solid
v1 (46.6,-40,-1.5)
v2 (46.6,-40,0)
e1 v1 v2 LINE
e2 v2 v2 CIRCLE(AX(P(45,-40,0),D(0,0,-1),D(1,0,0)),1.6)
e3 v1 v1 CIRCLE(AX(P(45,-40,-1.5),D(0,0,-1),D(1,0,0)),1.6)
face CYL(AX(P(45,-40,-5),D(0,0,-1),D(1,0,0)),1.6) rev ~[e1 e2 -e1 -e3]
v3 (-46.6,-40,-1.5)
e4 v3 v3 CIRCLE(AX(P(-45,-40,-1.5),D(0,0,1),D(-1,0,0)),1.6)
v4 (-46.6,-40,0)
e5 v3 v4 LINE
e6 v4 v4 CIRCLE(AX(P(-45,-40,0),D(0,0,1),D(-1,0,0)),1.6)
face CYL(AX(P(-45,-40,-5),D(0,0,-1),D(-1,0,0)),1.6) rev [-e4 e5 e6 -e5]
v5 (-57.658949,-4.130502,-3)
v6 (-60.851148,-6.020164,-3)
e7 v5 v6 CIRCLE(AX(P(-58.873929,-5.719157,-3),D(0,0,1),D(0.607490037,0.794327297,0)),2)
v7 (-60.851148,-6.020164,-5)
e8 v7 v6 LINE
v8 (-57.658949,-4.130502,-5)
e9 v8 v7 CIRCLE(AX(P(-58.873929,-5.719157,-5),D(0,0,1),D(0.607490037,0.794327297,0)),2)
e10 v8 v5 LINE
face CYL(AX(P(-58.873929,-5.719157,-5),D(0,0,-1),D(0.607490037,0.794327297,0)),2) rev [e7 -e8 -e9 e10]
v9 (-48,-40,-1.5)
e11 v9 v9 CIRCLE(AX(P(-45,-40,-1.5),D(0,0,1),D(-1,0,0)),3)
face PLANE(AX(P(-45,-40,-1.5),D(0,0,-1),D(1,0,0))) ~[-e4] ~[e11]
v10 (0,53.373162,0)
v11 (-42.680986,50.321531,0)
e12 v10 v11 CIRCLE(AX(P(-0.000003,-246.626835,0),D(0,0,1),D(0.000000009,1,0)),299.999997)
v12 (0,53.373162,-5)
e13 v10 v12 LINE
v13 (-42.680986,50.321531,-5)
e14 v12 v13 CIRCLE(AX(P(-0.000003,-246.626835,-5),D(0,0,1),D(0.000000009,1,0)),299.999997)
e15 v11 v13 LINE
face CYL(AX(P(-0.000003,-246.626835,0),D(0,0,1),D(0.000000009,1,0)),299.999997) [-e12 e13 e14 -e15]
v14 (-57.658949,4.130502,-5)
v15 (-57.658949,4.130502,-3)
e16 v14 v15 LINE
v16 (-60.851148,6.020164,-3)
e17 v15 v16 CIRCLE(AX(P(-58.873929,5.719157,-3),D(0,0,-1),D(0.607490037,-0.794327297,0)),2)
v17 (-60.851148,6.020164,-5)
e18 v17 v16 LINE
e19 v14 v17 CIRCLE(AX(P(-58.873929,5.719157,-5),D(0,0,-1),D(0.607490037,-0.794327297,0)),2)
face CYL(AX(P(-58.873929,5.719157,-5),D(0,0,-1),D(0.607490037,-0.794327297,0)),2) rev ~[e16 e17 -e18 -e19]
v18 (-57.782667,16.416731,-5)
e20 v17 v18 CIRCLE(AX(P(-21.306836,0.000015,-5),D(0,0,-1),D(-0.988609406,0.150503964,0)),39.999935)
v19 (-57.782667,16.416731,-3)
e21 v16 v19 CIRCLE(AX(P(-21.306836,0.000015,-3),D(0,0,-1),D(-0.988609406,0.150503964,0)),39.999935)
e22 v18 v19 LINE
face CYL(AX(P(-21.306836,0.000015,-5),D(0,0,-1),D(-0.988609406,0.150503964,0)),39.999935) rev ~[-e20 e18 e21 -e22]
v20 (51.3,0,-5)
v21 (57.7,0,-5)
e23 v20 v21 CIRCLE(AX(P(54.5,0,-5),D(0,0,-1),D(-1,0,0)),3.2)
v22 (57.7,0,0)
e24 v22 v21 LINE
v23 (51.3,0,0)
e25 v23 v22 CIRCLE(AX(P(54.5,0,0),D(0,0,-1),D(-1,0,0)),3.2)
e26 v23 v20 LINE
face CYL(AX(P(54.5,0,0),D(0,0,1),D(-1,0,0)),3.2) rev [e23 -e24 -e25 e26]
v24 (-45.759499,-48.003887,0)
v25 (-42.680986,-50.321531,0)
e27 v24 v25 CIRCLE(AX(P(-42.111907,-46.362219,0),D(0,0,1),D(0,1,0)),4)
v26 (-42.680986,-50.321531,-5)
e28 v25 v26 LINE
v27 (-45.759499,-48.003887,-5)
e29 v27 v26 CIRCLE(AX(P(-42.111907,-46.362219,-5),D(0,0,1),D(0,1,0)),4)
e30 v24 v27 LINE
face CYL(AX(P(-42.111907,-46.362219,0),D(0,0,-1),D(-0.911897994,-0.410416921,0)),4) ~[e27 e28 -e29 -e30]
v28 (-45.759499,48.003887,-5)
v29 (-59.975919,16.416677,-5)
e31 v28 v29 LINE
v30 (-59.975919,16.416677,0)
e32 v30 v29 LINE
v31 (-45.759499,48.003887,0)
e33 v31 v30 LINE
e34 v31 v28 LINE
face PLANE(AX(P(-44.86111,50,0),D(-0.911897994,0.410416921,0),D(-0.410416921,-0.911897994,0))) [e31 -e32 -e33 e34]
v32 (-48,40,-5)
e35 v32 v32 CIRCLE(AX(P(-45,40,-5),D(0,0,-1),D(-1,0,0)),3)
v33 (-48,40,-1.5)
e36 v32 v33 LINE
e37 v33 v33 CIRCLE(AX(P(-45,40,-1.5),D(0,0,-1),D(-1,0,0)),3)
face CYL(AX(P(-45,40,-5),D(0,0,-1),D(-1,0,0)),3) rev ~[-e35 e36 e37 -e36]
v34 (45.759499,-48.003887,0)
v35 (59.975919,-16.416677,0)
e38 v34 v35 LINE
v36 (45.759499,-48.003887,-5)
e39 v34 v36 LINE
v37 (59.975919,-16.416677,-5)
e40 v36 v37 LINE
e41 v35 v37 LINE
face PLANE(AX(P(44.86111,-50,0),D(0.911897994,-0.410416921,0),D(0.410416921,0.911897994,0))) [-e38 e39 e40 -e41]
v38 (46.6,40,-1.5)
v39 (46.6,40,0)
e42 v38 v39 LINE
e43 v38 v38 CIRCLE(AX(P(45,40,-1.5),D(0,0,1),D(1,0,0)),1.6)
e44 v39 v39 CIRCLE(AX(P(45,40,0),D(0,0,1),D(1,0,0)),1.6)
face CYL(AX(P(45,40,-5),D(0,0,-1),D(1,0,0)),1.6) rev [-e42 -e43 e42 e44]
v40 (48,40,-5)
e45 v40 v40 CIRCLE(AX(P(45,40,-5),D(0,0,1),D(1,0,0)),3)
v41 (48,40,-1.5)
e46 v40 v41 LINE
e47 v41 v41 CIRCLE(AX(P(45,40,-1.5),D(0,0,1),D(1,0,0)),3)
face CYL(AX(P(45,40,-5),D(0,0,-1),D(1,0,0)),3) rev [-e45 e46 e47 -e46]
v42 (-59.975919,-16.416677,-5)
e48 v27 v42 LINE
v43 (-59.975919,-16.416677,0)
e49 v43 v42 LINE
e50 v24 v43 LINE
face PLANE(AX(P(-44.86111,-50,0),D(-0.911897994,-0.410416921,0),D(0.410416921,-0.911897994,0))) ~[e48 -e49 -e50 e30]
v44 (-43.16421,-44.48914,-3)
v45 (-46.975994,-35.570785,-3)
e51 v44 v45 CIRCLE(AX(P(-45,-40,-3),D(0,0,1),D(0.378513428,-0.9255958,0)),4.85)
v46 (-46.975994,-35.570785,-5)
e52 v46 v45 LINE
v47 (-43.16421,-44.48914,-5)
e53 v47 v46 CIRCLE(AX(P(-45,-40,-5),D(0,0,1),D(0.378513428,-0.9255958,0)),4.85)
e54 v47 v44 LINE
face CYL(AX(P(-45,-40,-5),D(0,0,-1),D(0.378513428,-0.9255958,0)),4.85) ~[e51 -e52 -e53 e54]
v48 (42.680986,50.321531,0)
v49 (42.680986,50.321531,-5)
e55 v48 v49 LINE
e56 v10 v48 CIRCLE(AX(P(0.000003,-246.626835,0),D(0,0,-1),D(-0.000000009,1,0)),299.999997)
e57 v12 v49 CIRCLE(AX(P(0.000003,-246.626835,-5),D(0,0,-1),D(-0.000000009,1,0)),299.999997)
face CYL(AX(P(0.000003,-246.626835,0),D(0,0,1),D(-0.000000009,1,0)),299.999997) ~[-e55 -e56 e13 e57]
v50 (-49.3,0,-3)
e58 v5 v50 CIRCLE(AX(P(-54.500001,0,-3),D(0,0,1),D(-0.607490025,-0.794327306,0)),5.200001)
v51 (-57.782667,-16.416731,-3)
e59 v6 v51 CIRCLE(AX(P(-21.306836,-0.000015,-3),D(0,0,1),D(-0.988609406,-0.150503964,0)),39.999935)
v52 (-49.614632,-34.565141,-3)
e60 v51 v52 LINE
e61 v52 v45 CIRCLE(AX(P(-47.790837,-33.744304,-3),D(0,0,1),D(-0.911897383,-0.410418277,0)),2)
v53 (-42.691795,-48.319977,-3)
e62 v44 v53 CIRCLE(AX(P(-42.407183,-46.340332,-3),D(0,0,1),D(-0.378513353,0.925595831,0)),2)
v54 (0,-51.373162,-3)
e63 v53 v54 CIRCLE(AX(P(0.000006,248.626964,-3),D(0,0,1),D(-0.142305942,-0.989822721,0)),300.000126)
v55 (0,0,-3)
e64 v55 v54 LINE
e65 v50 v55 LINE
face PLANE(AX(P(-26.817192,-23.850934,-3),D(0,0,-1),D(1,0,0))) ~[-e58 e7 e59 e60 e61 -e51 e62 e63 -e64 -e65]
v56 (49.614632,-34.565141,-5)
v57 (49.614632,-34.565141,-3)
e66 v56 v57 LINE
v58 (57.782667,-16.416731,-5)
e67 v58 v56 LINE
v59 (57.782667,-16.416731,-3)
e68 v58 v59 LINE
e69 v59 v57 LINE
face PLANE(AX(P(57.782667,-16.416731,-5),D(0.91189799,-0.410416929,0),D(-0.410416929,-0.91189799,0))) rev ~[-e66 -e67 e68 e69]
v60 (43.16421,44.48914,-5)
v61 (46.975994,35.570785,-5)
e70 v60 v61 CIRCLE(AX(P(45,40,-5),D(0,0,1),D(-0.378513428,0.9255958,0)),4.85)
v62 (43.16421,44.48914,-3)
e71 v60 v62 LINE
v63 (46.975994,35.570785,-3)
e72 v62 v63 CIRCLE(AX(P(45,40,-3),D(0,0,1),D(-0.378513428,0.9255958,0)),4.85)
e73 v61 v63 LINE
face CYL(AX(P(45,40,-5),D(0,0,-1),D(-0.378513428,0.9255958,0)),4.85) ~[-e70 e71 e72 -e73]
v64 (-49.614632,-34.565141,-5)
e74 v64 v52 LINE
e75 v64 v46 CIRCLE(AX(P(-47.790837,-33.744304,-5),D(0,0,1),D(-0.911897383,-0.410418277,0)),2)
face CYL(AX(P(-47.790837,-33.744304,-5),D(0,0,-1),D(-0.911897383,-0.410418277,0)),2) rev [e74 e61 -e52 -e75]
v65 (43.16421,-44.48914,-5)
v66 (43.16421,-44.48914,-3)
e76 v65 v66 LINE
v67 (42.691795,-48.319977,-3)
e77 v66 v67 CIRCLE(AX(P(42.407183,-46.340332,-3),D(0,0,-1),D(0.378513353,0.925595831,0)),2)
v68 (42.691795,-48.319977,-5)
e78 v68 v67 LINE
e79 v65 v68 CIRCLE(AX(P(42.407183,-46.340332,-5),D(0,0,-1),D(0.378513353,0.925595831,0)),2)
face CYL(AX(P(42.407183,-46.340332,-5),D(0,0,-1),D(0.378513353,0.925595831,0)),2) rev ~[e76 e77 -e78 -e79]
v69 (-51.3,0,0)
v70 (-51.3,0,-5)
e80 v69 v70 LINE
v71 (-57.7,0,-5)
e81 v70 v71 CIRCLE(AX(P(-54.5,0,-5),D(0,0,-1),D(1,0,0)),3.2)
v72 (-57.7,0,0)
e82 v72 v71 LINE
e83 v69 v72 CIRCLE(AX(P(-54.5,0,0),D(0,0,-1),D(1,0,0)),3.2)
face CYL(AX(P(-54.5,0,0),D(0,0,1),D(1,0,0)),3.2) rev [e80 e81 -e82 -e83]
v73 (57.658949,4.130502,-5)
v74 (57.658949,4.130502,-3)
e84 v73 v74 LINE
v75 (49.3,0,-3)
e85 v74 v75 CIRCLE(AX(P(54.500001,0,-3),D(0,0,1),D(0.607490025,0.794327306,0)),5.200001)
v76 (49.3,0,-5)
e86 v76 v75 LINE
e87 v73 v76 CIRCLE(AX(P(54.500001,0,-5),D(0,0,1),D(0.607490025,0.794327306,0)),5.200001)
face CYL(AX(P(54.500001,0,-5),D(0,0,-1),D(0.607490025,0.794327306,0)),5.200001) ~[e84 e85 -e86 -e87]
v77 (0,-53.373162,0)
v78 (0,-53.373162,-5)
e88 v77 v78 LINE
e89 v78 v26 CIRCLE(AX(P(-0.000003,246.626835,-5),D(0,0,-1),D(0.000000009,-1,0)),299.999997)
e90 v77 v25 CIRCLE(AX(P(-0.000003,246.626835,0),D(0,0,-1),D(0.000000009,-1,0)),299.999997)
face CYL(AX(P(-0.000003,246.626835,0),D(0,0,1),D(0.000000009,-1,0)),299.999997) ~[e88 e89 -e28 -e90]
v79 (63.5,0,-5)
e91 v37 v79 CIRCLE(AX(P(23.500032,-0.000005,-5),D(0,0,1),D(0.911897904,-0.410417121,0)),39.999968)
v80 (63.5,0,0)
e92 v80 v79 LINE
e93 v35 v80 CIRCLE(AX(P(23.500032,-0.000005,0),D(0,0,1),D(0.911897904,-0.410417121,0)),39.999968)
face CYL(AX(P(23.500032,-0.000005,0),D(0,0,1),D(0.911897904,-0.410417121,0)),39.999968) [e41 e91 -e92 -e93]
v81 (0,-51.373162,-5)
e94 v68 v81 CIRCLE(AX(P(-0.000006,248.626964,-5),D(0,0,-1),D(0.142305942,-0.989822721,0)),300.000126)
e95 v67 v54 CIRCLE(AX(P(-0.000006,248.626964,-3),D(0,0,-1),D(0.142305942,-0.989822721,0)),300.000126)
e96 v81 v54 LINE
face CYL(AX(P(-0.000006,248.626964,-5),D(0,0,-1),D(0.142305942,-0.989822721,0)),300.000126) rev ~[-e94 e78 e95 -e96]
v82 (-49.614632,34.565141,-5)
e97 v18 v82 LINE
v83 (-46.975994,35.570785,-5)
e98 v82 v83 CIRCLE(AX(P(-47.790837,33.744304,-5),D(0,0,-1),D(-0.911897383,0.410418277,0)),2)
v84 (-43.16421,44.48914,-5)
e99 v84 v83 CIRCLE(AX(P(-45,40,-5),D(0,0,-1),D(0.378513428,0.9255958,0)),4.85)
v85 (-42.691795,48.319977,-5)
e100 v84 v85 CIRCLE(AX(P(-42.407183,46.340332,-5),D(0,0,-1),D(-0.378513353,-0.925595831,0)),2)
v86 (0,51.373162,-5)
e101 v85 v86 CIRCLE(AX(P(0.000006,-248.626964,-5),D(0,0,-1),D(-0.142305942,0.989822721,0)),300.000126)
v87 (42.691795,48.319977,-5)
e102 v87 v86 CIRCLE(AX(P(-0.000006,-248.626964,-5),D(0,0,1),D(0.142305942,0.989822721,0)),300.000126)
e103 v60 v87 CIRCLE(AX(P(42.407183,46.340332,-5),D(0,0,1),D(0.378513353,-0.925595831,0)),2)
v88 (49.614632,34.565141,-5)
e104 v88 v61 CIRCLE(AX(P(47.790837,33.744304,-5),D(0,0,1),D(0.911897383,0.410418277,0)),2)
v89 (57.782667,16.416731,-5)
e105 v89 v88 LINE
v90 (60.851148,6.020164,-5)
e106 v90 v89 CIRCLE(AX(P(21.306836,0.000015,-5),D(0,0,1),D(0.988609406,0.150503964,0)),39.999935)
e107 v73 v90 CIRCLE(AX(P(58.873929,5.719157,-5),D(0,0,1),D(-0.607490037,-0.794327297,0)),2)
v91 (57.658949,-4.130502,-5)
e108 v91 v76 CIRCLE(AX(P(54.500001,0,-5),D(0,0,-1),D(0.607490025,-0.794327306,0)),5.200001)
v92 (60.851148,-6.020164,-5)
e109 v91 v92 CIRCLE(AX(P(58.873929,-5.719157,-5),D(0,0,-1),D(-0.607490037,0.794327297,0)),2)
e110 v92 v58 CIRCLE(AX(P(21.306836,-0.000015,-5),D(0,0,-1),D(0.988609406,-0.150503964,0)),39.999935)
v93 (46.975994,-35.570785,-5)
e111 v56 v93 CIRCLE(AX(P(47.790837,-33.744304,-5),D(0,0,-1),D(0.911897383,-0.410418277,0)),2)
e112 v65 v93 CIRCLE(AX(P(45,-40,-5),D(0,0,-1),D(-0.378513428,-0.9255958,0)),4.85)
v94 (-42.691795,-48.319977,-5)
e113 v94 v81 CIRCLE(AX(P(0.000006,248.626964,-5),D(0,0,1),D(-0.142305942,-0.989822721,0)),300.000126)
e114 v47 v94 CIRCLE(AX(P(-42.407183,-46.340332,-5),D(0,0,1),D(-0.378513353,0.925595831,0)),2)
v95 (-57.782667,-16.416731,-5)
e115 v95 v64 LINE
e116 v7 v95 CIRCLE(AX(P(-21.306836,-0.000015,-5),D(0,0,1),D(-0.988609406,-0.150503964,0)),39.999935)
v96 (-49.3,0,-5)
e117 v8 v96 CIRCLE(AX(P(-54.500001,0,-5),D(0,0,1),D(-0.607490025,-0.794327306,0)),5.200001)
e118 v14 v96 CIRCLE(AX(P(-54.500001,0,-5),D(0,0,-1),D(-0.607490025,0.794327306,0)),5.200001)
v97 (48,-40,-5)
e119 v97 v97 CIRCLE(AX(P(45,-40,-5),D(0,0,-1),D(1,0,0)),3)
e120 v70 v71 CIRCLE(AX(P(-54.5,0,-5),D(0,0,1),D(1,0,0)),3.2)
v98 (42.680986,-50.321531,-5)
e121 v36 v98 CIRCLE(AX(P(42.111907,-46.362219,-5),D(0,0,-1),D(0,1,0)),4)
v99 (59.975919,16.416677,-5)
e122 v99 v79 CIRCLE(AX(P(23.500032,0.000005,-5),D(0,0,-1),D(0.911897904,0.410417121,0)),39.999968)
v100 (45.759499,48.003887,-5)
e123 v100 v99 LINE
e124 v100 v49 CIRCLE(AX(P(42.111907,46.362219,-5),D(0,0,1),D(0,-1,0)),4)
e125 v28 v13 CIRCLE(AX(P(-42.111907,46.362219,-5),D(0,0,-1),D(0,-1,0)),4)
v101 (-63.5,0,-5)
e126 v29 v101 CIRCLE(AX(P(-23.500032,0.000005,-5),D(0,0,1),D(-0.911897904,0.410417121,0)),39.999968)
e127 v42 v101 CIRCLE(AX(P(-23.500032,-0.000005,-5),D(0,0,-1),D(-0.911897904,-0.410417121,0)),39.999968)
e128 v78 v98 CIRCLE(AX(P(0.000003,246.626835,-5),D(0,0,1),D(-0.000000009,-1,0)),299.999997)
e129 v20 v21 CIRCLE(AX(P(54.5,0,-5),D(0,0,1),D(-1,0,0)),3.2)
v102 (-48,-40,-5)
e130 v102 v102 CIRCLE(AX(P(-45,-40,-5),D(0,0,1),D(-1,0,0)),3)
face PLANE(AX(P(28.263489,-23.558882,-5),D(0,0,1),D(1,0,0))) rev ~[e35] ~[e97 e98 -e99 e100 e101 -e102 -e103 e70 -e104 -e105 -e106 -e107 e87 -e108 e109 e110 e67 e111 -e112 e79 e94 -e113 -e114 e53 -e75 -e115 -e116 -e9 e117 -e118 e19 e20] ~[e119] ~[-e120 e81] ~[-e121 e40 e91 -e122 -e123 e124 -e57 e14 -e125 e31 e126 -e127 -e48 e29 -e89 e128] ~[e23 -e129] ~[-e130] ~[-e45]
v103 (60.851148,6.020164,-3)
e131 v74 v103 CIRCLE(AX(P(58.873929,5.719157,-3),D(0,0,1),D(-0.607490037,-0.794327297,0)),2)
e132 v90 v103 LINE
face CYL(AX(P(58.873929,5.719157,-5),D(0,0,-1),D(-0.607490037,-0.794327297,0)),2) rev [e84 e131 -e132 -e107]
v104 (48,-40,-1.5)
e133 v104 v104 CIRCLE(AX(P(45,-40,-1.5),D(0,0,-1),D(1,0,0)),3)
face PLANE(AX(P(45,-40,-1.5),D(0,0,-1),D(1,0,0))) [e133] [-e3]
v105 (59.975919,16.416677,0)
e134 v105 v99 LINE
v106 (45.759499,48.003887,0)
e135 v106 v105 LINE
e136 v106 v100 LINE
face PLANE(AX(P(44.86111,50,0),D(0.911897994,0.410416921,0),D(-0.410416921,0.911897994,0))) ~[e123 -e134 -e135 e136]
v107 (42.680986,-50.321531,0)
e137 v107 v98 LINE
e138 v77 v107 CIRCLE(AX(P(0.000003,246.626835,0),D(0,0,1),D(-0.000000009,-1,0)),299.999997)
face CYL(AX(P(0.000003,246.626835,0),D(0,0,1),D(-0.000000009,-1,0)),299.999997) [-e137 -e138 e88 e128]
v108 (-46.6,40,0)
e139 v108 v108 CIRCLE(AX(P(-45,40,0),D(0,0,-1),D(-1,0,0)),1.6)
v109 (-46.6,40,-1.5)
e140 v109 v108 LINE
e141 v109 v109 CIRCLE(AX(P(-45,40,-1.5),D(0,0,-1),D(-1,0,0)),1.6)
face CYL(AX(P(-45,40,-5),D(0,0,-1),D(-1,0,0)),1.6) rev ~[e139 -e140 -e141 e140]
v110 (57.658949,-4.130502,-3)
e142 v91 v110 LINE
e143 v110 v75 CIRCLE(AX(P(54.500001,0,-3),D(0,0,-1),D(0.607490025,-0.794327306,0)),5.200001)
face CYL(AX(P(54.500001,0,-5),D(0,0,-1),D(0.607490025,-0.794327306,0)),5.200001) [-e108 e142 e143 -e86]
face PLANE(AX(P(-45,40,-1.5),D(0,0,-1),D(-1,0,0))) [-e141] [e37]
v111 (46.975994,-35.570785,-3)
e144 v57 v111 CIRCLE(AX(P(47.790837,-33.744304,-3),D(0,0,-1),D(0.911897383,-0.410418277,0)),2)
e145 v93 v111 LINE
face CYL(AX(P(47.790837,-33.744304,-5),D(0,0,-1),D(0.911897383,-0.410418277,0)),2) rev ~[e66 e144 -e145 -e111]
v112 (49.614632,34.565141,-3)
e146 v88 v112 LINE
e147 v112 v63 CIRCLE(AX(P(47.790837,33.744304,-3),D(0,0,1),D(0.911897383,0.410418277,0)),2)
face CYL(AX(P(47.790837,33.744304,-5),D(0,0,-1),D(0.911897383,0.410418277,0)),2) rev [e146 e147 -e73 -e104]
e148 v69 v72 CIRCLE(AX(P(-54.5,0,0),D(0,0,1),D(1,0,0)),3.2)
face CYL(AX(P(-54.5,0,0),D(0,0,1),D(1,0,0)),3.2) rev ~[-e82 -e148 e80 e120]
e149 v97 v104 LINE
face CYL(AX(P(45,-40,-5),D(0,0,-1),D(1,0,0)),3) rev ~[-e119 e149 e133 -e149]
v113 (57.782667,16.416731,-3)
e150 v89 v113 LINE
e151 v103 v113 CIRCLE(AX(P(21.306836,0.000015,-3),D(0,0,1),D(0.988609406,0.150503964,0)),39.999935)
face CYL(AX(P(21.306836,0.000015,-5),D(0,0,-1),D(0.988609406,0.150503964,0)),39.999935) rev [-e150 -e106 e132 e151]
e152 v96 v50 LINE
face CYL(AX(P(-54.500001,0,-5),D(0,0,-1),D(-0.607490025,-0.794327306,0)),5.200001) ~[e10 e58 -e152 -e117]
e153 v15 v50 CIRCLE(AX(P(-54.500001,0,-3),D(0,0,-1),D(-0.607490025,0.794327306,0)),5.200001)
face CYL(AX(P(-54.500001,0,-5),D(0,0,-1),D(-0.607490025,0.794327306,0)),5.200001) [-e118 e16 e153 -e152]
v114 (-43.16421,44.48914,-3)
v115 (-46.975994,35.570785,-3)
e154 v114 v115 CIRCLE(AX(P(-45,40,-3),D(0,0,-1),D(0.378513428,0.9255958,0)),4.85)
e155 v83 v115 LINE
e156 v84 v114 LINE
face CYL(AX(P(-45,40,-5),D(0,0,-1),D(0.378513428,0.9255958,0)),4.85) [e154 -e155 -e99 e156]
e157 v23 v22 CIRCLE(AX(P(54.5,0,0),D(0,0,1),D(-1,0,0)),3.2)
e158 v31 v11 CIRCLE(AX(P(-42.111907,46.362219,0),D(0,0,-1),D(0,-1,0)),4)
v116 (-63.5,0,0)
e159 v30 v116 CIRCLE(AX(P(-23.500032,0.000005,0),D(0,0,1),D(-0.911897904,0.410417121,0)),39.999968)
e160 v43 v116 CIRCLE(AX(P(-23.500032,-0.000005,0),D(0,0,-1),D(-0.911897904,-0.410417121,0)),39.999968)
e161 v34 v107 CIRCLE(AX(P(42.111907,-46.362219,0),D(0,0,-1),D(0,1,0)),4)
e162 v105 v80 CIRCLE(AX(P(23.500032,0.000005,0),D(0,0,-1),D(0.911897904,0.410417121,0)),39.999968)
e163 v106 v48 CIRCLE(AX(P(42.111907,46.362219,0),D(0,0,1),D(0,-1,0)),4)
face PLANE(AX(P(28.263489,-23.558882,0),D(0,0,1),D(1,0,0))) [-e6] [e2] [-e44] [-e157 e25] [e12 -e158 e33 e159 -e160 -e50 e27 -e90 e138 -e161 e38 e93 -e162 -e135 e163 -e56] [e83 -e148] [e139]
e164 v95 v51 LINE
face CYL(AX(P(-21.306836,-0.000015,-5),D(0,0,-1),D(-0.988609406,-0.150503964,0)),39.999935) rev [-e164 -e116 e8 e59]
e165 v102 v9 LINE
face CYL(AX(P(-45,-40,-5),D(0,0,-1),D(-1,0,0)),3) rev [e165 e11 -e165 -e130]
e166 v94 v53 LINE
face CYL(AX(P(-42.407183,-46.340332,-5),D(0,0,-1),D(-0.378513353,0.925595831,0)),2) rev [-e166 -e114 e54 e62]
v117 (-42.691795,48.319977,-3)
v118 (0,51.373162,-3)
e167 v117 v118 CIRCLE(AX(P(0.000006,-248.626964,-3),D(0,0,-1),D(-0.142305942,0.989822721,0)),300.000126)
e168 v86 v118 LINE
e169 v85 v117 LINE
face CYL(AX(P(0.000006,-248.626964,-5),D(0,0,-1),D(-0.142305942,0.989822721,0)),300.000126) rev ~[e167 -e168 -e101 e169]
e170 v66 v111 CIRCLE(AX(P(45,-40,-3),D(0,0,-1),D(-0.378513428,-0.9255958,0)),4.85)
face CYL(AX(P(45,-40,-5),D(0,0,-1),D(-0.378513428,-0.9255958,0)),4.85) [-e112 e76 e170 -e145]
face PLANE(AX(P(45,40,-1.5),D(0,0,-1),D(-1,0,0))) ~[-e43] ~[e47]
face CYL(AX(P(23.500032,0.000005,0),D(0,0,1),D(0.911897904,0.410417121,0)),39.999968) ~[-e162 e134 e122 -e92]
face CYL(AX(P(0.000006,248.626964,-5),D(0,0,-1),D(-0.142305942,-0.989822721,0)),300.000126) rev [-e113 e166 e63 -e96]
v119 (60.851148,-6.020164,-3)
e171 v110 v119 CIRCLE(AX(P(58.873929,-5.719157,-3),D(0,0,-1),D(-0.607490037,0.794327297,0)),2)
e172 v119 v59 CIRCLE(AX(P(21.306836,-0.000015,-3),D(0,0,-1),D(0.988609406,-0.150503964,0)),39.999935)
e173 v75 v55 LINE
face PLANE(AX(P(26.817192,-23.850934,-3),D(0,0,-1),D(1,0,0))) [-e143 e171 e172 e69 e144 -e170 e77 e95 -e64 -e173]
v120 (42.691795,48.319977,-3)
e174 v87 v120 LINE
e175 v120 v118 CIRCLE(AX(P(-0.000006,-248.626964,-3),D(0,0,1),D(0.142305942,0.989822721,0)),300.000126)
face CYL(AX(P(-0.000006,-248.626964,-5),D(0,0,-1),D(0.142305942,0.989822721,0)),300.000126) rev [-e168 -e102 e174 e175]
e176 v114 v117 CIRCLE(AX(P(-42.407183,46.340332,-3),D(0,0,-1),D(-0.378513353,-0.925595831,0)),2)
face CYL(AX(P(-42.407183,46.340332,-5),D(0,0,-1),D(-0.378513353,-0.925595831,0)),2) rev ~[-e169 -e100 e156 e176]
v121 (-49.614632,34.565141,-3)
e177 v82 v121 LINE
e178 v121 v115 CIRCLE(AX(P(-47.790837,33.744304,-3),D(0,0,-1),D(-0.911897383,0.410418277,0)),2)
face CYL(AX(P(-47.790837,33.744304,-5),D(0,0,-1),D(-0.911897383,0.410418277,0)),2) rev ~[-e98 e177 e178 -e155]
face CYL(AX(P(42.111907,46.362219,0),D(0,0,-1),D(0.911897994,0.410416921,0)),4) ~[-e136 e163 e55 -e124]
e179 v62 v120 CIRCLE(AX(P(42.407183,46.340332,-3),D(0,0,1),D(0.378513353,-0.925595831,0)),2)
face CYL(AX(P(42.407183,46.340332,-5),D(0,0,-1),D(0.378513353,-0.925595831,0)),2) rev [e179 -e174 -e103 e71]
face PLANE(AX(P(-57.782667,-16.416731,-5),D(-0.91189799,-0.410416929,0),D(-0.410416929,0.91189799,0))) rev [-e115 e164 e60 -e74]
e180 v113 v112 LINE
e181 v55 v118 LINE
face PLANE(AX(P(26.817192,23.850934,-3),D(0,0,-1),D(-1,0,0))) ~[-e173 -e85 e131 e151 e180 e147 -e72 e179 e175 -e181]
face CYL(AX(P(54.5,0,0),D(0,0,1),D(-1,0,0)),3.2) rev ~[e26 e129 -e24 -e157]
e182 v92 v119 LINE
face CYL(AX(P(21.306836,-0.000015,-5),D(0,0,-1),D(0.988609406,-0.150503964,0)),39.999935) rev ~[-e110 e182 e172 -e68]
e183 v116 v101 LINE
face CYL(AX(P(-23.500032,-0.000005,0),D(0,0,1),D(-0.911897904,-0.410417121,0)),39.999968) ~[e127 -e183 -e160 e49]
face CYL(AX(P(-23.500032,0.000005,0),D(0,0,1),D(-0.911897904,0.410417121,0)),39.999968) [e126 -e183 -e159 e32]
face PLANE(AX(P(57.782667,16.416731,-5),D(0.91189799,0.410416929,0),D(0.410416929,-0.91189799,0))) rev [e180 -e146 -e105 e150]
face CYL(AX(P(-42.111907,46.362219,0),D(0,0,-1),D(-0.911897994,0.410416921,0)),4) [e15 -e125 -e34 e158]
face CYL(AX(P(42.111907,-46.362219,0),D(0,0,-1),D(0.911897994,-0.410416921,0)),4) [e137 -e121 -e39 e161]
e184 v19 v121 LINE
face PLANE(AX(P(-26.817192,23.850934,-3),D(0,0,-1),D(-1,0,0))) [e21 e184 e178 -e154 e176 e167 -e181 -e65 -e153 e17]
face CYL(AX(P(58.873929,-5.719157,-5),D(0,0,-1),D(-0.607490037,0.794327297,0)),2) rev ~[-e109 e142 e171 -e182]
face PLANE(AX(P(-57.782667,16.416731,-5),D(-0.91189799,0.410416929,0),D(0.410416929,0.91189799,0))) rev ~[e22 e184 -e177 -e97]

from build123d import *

# Parameters (mm, degrees)
PAD_DEPTH       = 5
FILLET_R        = 4
POCKET_DEPTH    = 2
SKETCH011_R     = 1.6
POCKET001_DEPTH = 5
SKETCH012_R     = 3
POCKET002_DEPTH = 3.5


with BuildPart() as pocket002:
    # Sketch010 → Pad (new body)
    with BuildSketch(Plane.XY):
        with BuildLine():
            Line((44.86111, -50), (59.975919, -16.416677))
            ThreePointArc((59.975919, -16.416677), (62.609058, -8.395333), (63.5, 0))
            Line((57.7, 0), (63.5, 0))
            ThreePointArc((51.3, 0), (54.5, -3.2), (57.7, 0))
            Line((0, 0), (51.3, 0))
            Line((0, -53.373162), (0, 0))
            ThreePointArc((0, -53.373162), (22.493874, -52.528683), (44.86111, -50))
        make_face()
    extrude(amount=-PAD_DEPTH)

    # Fillet
    fillet_edges = [pocket002.edges().sort_by_distance(p)[0] for p in [
        (44.86111, -50, -2.5),
    ]]
    fillet(fillet_edges, radius=FILLET_R)

    # Sketch (on Face5 of Fillet) → Pocket (cut)
    with BuildSketch(Plane(origin=(0, 0, -5), x_dir=(1, 0, 0), z_dir=(0, 0, -1))):
        with BuildLine():
            ThreePointArc((42.691795, 48.319977), (21.400417, 50.608892), (0, 51.373162))
            Line((0, 0), (0, 51.373162))
            Line((49.3, 0), (0, 0))
            ThreePointArc((57.658949, 4.130502), (52.196365, 4.661895), (49.3, 0))
            ThreePointArc((57.658949, 4.130502), (59.892731, 3.998098), (60.851148, 6.020164))
            ThreePointArc((60.851148, 6.020164), (59.670721, 11.322874), (57.782667, 16.416731))
            Line((57.782667, 16.416731), (49.614632, 34.565141))
            ThreePointArc((49.614632, 34.565141), (48.503106, 35.613174), (46.975994, 35.570785))
            ThreePointArc((43.16421, 44.48914), (40.540272, 38.093872), (46.975994, 35.570785))
            ThreePointArc((43.16421, 44.48914), (44.392147, 46.585115), (42.691795, 48.319977))
        make_face()
    extrude(amount=-POCKET_DEPTH, mode=Mode.SUBTRACT)

    # Sketch011 (on Face5 of Pocket) → Pocket001 (cut)
    with BuildSketch(Plane(origin=(0, 0, -5), x_dir=(1, 0, 0), z_dir=(0, 0, -1))):
        with Locations((45, 40)):
            Circle(SKETCH011_R)
    extrude(amount=-POCKET001_DEPTH, mode=Mode.SUBTRACT)

    # Sketch012 (on Face5 of Pocket001) → Pocket002 (cut)
    with BuildSketch(Plane(origin=(0, 0, -5), x_dir=(1, 0, 0), z_dir=(0, 0, -1))):
        with Locations((45, 40)):
            Circle(SKETCH012_R)
    extrude(amount=-POCKET002_DEPTH, mode=Mode.SUBTRACT)


with BuildPart() as fusion:
    # Part__Mirroring: instance of Pocket002
    add(pocket002.part.mirror(Plane(origin=(0, 0, 0), x_dir=(1, 0, 0), z_dir=(0, 1, 0))))

    # Fusion: union Pocket002
    add(pocket002.part)


with BuildPart() as fusion005:
    # Part__Mirroring001: instance of Fusion
    add(fusion.part.mirror(Plane(origin=(0, 0, 0), x_dir=(0, -1, 0), z_dir=(1, 0, 0))))

    # Fusion005: union Fusion
    add(fusion.part)


solid = fusion005.part
